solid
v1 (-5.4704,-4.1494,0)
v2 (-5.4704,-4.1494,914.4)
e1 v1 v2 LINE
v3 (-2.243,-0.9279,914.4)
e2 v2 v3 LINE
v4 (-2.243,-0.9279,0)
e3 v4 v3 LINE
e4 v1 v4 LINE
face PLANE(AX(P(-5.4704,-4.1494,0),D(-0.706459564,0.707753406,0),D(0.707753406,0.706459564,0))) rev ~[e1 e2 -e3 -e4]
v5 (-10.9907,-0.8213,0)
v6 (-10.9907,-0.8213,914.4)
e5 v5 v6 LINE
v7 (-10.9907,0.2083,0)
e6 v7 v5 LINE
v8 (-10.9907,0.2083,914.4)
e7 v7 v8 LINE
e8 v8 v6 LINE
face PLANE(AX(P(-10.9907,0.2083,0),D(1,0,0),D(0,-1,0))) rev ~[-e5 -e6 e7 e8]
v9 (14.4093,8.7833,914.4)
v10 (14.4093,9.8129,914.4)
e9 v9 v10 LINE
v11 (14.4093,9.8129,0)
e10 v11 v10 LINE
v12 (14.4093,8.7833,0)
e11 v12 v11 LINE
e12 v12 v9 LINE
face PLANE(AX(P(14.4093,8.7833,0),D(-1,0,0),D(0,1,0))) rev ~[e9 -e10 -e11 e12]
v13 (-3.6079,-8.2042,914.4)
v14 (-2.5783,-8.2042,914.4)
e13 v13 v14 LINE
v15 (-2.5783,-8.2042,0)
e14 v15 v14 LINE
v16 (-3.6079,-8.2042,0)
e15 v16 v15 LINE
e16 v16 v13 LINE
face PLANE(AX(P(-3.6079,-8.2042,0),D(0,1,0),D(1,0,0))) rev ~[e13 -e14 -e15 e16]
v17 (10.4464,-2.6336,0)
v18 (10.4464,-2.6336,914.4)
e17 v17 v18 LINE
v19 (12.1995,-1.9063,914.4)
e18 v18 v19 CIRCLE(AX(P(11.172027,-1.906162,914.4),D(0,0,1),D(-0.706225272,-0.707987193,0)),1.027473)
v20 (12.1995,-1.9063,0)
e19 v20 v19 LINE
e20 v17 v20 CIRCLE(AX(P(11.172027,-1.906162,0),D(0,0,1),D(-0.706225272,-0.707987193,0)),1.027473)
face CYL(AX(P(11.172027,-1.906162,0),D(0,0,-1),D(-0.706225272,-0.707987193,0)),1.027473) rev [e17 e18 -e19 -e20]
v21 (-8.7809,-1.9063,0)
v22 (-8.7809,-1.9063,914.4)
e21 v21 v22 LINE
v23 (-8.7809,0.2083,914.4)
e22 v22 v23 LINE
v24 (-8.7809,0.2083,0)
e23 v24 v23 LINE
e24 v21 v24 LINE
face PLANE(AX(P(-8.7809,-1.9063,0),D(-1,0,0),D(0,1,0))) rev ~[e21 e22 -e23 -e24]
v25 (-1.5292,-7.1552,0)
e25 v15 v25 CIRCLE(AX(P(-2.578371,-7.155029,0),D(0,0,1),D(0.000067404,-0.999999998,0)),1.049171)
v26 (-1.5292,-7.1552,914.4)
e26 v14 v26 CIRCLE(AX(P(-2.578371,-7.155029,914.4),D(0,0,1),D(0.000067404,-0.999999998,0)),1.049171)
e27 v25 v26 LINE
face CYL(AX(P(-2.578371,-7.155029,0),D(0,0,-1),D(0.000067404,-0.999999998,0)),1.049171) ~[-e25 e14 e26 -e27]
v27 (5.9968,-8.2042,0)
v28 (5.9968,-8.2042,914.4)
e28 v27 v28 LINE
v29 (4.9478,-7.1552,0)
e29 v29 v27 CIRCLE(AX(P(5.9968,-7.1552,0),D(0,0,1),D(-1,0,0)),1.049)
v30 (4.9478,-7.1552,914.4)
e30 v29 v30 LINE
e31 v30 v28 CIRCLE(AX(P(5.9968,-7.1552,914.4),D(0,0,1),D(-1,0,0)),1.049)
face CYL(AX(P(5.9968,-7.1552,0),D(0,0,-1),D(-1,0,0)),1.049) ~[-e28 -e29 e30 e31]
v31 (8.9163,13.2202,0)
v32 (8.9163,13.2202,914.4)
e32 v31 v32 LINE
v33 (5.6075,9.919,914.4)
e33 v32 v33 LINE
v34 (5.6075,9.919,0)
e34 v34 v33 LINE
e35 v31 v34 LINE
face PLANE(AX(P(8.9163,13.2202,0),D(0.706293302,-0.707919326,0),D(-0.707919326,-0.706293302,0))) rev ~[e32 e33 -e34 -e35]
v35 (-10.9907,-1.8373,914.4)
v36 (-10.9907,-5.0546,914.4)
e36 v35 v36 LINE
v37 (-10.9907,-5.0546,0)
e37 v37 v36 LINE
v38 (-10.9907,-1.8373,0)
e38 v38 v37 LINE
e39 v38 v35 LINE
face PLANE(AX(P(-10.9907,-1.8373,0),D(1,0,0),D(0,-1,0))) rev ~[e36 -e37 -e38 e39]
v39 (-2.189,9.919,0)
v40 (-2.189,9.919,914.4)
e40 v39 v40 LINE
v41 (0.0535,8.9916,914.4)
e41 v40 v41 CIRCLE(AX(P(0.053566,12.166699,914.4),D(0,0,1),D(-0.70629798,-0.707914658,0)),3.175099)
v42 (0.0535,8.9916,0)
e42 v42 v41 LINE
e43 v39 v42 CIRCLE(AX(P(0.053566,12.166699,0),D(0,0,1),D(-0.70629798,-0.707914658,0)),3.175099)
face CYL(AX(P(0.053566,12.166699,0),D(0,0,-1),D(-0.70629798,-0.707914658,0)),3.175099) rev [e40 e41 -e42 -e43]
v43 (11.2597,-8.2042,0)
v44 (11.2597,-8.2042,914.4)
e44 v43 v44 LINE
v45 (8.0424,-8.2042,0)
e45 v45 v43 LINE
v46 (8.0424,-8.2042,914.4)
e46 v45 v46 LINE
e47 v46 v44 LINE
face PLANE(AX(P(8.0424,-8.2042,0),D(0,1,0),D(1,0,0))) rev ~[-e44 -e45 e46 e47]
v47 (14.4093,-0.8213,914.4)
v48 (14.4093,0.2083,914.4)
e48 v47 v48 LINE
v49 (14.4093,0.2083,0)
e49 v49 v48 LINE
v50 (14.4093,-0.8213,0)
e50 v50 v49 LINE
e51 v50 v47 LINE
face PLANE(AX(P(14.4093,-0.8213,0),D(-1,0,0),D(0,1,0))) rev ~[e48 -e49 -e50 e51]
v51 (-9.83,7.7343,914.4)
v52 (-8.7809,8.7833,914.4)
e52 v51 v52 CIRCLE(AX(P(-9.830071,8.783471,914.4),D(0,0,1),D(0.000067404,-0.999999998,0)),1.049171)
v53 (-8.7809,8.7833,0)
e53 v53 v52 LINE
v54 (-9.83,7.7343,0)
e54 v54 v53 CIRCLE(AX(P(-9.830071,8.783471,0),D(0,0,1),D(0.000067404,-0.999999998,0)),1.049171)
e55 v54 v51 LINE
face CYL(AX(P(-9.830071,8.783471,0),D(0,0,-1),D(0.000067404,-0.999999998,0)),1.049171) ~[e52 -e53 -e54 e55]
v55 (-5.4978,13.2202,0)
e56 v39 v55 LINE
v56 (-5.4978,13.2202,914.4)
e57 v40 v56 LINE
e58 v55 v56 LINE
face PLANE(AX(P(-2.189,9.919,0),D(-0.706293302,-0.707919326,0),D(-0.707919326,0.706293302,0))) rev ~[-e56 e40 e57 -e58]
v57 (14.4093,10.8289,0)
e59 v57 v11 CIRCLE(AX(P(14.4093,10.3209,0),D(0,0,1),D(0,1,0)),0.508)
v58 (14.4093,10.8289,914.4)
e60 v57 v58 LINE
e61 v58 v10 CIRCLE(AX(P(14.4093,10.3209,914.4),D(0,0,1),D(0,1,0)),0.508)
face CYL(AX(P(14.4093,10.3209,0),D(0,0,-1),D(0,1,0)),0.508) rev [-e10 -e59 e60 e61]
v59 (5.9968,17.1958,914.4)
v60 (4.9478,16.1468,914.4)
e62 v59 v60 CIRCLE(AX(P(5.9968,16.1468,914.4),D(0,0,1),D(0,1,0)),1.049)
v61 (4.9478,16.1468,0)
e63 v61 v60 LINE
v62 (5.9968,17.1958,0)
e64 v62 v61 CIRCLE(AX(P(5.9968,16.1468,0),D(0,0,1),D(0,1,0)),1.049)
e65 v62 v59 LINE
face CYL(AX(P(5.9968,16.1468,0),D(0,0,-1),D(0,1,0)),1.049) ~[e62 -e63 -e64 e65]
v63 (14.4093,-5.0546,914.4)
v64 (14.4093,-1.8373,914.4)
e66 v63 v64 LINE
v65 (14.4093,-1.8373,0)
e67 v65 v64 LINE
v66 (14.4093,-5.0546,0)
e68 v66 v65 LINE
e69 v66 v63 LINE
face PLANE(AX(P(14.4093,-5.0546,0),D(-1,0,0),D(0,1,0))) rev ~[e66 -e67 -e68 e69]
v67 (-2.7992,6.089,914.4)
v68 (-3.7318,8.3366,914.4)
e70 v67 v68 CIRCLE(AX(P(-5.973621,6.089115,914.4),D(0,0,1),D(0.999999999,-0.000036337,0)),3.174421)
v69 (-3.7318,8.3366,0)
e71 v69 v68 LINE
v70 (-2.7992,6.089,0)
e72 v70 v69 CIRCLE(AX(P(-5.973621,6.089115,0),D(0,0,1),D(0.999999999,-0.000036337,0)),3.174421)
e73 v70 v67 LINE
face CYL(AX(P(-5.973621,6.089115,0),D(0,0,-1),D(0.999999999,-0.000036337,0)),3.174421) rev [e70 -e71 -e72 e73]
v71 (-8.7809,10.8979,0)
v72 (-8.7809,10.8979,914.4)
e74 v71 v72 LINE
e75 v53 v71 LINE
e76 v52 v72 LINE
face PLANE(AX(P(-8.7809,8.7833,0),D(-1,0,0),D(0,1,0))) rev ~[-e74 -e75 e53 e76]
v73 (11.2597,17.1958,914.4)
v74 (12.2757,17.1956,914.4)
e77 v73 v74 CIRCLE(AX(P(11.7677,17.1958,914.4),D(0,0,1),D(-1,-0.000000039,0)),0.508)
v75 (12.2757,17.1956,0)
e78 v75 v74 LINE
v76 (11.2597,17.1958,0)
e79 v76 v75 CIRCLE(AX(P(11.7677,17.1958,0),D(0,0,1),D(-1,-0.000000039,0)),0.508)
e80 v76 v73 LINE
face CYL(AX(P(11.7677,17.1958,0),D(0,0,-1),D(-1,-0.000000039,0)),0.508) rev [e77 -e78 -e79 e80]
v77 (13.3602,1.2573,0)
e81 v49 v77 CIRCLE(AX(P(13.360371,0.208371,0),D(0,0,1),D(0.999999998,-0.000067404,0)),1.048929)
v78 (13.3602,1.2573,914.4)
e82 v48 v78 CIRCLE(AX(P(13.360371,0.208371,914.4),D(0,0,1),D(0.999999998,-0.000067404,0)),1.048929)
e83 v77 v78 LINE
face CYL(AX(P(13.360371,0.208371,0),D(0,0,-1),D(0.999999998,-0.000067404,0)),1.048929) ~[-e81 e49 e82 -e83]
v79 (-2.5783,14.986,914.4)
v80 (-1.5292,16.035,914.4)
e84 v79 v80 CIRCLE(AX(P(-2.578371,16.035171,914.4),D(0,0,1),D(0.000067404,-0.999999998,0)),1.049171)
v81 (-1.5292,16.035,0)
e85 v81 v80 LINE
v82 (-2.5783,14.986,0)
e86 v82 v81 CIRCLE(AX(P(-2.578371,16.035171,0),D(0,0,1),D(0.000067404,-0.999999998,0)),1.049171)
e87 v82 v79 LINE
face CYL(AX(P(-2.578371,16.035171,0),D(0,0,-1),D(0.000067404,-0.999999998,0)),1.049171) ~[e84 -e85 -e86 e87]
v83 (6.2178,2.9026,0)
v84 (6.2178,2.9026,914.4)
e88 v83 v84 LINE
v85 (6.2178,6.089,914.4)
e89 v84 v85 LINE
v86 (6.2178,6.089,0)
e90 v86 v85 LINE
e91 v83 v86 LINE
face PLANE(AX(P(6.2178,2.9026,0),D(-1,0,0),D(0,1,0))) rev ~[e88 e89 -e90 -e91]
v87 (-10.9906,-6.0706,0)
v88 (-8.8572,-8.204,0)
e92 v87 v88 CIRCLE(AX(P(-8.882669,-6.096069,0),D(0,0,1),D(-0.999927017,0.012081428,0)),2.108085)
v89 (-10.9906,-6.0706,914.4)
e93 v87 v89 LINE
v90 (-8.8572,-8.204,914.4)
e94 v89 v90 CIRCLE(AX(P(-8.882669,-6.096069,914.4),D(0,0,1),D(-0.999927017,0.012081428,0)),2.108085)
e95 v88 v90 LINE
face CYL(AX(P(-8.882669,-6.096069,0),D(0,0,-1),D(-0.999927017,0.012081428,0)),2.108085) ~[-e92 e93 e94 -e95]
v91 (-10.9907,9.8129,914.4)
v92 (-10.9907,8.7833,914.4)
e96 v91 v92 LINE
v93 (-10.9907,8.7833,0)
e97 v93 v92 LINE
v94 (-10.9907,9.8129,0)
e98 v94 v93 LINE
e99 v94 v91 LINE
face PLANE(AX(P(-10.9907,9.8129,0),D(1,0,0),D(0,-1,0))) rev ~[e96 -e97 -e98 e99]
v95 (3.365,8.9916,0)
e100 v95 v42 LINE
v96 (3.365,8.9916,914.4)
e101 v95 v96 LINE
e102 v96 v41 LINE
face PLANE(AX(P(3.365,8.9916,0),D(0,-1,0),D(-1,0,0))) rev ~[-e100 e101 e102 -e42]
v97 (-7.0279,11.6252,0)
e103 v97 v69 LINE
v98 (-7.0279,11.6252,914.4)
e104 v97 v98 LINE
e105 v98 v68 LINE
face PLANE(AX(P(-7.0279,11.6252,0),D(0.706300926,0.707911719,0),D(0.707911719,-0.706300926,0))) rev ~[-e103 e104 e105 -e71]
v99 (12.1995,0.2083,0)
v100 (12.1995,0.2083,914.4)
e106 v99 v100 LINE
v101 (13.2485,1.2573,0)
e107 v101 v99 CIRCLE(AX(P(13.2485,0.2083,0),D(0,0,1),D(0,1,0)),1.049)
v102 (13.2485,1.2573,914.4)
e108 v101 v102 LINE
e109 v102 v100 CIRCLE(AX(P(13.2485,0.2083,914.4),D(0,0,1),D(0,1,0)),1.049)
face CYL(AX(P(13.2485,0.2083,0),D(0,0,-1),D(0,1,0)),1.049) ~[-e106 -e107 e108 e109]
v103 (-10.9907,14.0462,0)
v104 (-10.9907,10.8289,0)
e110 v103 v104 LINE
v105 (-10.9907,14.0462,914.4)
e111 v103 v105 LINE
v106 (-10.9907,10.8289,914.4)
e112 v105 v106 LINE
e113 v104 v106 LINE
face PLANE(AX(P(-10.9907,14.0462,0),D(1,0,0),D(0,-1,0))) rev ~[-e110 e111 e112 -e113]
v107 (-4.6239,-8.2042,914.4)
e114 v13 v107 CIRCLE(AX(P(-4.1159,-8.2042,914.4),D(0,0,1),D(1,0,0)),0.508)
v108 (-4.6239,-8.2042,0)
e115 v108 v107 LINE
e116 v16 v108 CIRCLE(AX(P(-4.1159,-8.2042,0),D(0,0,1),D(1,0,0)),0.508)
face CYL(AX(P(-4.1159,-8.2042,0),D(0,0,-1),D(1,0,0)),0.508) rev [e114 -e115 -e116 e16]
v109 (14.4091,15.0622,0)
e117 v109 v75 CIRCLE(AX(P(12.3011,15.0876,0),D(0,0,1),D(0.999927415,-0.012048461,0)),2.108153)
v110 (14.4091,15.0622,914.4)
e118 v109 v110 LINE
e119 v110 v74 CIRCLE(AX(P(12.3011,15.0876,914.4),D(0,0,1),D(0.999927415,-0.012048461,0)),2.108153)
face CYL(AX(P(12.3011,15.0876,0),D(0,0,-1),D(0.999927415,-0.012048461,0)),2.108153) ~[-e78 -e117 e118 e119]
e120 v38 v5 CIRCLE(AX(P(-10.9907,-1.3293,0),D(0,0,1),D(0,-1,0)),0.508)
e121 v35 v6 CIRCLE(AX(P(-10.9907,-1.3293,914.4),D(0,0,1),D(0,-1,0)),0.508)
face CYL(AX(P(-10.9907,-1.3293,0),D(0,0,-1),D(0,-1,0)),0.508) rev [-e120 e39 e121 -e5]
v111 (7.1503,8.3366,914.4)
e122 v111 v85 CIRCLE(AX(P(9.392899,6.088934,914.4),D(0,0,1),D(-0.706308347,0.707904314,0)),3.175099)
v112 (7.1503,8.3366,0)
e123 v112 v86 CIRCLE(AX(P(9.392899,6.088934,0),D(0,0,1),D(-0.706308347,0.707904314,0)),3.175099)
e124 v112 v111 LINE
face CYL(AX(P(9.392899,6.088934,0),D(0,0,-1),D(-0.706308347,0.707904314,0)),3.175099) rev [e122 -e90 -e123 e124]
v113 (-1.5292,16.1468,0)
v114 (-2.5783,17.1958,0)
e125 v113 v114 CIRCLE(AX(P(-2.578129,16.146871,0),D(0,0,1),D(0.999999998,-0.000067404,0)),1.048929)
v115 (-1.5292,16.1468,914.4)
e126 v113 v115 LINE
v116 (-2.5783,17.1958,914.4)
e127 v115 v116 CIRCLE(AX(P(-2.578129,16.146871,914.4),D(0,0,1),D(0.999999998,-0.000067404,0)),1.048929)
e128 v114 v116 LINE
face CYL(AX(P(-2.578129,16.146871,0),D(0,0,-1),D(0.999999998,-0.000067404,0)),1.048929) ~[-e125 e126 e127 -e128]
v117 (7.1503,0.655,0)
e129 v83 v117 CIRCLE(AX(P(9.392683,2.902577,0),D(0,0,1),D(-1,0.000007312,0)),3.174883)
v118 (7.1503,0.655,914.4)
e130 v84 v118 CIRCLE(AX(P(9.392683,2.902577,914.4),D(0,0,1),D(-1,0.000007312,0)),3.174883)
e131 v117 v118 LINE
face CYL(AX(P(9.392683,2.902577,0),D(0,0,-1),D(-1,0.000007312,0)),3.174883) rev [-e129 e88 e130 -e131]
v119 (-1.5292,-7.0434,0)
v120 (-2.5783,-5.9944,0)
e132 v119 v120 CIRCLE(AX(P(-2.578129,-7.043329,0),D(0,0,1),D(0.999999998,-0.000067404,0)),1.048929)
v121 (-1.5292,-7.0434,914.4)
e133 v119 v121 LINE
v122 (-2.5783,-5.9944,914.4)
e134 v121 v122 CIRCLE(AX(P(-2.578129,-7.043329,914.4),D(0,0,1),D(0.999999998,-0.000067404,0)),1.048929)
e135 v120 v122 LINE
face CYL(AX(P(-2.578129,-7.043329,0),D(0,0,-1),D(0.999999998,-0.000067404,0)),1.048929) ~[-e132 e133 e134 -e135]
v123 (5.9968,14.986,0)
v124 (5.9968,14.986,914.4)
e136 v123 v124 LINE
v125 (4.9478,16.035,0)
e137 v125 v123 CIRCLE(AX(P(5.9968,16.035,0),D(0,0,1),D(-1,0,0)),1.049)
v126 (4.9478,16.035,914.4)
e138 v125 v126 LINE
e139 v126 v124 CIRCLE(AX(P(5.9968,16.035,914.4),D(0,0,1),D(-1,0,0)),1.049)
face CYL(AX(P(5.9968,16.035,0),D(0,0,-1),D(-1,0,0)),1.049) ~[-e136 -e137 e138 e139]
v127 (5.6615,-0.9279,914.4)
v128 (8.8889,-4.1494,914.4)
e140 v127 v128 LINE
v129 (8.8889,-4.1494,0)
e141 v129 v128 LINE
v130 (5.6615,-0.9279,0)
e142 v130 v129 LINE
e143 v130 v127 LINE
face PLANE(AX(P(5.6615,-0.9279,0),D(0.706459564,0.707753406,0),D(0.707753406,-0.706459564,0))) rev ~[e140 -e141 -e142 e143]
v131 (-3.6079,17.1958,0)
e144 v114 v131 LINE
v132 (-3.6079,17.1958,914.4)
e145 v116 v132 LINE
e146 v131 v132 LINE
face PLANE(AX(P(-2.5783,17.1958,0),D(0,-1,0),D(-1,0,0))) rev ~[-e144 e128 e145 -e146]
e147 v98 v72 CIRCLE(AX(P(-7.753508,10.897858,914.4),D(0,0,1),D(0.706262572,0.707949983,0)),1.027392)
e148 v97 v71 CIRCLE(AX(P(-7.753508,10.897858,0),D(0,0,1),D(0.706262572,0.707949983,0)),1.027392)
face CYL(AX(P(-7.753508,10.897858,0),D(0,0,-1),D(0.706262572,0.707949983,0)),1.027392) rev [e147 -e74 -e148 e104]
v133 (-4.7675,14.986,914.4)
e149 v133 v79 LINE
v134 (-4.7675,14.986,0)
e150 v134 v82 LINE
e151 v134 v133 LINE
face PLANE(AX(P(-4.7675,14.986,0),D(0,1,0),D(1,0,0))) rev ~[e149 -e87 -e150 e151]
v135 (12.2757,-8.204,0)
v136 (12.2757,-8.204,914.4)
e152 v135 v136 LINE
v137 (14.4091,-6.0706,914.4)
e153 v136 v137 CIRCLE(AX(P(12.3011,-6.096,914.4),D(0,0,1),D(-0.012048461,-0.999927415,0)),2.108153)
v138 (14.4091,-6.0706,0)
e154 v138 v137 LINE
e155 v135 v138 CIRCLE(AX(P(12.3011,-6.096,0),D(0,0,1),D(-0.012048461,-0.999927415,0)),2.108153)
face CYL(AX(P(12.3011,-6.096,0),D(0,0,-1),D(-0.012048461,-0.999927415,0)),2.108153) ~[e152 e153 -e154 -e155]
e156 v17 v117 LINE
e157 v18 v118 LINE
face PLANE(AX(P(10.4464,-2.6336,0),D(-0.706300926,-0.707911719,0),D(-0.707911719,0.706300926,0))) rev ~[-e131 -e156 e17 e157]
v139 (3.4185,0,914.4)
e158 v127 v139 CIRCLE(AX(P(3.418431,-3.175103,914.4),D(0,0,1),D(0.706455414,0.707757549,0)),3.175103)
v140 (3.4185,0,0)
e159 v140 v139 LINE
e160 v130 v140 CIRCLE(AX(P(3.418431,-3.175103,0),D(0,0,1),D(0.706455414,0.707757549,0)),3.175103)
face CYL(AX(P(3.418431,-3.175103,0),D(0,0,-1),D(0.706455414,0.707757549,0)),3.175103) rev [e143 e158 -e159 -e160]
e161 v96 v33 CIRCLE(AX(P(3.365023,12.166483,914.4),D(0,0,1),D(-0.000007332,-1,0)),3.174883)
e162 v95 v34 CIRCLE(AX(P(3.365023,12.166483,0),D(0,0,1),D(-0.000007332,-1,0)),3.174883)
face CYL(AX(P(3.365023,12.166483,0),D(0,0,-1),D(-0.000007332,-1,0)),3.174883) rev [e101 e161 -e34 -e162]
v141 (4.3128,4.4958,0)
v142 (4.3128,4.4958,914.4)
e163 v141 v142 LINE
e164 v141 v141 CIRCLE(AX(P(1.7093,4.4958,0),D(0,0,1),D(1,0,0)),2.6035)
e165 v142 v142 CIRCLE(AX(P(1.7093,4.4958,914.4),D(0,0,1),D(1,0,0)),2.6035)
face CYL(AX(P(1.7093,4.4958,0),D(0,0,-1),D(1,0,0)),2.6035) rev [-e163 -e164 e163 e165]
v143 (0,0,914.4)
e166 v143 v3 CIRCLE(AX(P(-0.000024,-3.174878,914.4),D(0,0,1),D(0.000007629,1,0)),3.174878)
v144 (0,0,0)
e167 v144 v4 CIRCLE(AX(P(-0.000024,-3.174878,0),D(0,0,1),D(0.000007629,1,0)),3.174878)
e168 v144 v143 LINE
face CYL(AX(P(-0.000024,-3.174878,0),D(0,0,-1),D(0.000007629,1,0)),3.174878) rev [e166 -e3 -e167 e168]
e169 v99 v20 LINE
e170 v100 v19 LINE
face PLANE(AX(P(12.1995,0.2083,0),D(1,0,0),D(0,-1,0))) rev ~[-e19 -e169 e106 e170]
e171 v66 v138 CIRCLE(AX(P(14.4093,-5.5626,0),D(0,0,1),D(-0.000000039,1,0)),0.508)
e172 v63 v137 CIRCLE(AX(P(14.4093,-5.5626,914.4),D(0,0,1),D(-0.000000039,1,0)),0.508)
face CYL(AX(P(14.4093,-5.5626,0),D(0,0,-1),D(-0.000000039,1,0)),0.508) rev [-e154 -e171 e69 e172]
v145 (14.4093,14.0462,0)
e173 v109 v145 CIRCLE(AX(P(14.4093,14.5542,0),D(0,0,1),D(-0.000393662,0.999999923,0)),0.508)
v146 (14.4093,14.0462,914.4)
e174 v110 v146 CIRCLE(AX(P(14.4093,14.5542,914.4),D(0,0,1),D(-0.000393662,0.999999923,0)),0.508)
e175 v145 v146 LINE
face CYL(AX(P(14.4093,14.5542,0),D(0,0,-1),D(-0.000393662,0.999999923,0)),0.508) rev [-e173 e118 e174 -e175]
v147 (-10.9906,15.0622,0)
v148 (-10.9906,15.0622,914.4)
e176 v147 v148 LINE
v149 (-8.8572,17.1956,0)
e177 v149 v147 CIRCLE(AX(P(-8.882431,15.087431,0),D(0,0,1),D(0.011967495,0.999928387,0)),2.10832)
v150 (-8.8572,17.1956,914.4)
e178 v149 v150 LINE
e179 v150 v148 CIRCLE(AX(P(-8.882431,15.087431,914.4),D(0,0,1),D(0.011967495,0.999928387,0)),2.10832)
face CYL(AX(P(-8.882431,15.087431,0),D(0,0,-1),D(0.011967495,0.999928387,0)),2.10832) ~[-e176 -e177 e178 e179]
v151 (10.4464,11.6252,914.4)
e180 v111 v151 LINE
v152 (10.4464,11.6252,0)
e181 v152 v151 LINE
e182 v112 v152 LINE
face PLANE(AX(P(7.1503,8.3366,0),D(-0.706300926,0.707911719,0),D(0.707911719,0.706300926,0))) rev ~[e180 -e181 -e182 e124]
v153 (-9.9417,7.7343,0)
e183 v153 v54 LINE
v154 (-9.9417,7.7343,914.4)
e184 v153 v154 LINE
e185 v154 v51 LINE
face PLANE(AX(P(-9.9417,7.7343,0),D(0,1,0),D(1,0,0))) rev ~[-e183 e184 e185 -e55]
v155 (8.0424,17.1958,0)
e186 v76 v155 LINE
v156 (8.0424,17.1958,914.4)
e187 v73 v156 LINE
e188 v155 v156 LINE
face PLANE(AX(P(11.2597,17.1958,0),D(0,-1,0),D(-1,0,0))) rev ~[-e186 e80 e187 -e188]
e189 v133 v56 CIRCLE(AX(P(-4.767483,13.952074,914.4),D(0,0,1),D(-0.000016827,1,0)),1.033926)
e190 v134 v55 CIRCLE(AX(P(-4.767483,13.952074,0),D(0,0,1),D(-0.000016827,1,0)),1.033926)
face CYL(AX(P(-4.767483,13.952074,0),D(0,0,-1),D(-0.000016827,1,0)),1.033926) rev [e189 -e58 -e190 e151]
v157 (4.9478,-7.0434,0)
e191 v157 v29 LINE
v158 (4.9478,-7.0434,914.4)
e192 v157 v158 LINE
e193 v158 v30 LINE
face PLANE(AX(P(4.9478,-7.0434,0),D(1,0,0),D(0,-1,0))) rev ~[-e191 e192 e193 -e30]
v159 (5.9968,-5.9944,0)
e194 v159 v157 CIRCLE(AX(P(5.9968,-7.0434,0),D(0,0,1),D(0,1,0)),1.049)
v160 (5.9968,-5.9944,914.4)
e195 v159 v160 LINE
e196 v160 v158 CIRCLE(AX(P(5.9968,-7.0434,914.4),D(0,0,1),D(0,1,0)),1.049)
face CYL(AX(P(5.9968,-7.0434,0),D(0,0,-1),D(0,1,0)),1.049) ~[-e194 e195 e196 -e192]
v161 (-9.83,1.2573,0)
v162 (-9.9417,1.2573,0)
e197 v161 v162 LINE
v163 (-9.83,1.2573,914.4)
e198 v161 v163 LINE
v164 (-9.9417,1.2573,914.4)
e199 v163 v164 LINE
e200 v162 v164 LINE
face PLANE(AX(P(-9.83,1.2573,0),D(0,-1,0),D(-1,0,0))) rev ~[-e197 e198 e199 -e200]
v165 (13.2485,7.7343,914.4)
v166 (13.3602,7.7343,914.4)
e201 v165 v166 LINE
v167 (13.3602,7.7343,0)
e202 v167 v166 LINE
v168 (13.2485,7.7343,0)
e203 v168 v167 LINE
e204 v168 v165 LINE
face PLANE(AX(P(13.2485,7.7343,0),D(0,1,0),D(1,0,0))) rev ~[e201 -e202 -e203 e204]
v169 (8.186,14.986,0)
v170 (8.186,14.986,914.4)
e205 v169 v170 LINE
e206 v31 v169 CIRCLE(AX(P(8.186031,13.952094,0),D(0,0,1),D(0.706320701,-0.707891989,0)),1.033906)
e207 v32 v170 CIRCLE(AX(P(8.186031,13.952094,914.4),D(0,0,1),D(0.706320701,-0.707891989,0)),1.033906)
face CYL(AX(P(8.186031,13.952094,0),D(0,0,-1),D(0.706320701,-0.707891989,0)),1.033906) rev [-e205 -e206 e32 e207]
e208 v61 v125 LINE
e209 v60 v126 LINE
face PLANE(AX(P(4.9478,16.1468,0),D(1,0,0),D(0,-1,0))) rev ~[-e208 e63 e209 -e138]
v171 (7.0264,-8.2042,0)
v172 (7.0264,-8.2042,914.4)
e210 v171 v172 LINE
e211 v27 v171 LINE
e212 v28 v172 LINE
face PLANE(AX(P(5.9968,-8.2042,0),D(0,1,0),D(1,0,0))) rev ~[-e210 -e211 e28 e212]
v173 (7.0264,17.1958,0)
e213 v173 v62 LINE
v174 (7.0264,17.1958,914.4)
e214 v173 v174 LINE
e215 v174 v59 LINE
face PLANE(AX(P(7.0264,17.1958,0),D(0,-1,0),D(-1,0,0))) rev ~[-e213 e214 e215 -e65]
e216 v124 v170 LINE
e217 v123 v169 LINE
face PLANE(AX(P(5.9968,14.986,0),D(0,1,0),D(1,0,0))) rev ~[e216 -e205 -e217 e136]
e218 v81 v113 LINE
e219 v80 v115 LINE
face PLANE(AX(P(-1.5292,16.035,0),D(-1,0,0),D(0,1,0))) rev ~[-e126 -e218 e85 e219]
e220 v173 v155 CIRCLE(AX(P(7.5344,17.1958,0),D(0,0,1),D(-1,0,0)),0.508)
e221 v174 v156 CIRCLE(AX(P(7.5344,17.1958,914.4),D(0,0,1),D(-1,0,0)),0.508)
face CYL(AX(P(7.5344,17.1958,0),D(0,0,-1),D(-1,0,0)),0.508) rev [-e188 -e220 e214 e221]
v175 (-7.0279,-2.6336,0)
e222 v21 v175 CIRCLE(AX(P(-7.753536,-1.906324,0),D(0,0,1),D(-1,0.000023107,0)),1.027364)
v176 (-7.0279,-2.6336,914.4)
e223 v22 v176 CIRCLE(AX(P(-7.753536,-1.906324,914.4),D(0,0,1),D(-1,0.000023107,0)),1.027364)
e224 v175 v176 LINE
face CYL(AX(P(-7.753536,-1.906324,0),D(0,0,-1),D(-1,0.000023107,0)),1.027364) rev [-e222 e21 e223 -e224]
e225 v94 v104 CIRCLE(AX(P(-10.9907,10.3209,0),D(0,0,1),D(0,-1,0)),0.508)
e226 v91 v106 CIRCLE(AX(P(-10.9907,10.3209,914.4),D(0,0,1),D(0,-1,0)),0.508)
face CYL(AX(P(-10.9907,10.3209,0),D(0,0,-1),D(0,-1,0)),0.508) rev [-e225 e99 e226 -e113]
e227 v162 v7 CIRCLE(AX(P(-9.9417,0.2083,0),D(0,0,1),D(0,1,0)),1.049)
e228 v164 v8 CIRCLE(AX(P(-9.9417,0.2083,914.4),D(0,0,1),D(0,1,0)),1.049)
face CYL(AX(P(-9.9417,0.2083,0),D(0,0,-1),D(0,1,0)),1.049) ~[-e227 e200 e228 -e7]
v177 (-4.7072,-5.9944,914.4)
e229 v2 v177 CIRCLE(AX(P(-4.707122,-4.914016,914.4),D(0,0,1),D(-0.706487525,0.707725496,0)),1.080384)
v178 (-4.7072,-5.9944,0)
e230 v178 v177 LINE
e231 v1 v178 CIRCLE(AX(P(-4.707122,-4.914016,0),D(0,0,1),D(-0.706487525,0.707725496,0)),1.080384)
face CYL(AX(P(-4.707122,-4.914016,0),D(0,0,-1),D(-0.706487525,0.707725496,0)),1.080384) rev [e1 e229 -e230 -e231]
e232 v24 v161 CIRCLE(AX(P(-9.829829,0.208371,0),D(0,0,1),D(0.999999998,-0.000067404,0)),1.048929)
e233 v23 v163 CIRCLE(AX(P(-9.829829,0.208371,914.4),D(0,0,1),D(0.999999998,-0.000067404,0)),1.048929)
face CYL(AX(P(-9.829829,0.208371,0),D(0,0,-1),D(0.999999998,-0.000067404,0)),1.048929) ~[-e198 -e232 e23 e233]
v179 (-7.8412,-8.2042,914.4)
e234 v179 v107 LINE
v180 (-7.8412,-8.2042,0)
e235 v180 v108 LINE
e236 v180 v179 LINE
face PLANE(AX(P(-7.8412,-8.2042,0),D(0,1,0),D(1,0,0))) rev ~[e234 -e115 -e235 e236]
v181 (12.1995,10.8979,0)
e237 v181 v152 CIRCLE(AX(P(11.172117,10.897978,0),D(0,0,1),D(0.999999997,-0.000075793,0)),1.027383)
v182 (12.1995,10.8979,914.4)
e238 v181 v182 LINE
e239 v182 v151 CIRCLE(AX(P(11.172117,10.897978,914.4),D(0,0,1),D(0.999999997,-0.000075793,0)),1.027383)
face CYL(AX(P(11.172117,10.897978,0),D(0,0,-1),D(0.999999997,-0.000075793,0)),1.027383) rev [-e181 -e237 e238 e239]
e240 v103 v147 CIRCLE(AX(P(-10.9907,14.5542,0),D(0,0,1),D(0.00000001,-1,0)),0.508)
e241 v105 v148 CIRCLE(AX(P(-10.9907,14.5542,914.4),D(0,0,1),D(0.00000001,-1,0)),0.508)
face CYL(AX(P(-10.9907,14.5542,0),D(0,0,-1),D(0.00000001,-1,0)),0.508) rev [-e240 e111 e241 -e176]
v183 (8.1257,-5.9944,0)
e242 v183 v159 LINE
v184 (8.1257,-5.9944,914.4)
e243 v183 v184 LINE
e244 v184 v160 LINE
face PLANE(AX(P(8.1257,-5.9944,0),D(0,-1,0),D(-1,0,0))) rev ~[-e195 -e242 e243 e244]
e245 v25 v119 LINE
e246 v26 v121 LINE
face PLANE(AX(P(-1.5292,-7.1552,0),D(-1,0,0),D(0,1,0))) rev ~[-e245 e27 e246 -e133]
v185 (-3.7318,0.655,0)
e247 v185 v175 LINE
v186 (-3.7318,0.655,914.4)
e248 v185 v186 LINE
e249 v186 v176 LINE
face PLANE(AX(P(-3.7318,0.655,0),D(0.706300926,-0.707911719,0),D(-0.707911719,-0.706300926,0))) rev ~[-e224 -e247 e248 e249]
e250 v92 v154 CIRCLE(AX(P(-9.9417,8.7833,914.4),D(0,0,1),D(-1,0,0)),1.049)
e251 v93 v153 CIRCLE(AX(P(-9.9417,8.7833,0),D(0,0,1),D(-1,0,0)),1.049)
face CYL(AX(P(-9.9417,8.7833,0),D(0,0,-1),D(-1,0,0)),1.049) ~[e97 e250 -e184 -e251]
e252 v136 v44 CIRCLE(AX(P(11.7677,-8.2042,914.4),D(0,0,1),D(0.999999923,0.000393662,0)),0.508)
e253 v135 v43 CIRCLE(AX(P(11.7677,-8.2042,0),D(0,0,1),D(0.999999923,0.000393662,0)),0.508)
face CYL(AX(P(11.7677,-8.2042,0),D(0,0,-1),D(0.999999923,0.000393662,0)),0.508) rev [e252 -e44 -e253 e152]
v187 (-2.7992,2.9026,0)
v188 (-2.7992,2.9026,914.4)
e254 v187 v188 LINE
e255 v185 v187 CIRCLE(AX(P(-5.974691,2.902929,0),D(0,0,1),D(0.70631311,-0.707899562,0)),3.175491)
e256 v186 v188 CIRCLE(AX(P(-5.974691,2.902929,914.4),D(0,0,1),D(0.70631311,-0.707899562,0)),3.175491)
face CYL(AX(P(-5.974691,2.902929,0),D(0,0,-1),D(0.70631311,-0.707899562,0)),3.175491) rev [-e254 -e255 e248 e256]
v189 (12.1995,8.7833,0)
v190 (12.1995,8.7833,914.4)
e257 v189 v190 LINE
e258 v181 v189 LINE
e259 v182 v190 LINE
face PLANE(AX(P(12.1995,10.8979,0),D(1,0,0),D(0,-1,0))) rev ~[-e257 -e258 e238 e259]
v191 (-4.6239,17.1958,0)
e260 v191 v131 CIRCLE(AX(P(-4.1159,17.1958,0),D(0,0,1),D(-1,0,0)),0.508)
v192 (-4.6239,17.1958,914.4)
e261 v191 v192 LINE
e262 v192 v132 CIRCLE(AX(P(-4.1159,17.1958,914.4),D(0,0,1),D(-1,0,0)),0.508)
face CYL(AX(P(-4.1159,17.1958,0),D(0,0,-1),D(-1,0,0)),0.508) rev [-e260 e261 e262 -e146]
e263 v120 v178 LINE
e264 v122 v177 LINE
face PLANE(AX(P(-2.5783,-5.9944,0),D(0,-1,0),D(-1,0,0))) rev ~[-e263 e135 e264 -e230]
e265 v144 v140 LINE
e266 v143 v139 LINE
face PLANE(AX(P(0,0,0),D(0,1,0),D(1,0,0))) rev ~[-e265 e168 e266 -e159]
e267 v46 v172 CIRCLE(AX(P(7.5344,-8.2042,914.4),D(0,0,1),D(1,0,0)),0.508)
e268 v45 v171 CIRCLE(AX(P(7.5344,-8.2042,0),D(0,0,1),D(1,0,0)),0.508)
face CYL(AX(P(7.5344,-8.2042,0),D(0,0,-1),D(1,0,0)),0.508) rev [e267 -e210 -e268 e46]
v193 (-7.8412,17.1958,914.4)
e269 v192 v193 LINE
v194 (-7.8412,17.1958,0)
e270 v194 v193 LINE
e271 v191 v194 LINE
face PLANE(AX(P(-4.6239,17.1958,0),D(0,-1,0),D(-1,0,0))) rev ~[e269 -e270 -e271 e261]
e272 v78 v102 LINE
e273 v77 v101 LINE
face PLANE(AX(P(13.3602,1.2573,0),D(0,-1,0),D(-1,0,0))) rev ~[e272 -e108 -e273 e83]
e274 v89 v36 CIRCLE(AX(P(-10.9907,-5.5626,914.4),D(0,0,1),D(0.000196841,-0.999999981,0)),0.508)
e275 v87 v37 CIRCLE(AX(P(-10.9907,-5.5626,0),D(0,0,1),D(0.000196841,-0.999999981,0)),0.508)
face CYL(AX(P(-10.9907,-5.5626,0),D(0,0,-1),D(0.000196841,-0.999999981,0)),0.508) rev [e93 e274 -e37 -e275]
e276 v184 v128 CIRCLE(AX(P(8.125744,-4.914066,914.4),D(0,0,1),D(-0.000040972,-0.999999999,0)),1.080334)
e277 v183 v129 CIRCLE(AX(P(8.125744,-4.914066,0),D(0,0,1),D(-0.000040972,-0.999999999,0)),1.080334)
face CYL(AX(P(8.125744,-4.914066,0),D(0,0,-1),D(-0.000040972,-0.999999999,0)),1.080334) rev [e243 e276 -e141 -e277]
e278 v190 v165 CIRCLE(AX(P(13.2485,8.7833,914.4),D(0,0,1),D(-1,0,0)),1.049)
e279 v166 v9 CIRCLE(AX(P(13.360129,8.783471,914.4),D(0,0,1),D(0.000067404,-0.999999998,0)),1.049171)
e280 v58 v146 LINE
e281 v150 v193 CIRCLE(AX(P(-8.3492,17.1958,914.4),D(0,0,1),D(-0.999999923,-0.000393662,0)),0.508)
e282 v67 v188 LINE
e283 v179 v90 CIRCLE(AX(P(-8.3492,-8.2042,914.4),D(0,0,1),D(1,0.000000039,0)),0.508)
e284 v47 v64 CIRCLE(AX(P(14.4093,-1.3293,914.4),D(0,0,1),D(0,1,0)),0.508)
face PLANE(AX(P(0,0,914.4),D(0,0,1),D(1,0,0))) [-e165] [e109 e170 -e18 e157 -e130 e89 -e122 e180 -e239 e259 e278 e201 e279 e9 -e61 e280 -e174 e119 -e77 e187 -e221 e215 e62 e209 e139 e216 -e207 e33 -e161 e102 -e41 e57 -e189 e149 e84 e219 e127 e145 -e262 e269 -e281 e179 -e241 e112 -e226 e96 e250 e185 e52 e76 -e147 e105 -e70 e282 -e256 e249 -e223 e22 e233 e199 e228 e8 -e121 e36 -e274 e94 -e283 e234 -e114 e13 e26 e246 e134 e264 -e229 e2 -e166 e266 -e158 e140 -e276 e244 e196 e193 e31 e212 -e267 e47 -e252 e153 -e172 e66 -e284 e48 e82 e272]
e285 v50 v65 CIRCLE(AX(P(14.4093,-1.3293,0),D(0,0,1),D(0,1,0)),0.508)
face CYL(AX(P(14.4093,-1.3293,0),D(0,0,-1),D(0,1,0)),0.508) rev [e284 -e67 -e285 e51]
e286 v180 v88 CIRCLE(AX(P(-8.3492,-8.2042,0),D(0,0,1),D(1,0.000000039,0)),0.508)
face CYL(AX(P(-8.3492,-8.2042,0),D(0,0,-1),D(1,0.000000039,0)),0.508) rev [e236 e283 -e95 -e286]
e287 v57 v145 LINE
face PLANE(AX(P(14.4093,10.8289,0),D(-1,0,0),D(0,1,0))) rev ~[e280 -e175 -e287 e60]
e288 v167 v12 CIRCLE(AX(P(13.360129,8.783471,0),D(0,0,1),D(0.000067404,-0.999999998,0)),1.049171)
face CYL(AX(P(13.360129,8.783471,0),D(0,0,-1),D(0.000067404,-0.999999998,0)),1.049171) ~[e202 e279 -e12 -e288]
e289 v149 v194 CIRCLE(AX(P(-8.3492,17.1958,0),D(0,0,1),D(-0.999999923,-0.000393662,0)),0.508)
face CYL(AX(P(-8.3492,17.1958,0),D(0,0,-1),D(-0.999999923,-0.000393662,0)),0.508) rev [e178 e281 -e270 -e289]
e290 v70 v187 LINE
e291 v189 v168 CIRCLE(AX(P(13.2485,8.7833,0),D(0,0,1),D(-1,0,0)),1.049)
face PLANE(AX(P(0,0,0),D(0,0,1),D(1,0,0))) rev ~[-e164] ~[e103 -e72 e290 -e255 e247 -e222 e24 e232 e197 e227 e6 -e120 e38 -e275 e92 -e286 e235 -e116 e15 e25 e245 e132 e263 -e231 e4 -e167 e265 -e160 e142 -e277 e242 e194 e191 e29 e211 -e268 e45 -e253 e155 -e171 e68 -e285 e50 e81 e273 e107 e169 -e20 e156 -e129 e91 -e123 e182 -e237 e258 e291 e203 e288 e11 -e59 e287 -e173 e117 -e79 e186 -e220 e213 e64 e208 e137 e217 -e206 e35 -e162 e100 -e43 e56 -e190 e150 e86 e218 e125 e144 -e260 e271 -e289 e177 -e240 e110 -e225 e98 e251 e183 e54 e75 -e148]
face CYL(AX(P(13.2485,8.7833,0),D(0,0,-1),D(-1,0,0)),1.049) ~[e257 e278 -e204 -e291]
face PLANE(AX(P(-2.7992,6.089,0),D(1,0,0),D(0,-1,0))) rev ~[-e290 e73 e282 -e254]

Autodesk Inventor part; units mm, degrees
ref_plane "YZ Plane" through (0, 0, 0) normal (1, 0, 0) x (0, 1, 0)
ref_plane "XZ Plane" through (0, 0, 0) normal (0, 1, 0) x (-1, 0, 0)
ref_plane "XY Plane" through (0, 0, 0) normal (0, 0, 1) x (1, 0, 0)
sketch "Sketch1" plane through (0, 0, 0) normal (0, 0, 1) x (1, 0, 0)
  arc A0 (-5.4704, -4.1494) -> (-4.7072, -5.9944) centre (-4.7072, -4.914) ccw
  line L0 (-5.4704, -4.1494) -> (-2.243, -0.9279)
  arc A1 (0, 0) -> (-2.243, -0.9279) centre (0, -3.175) ccw
  line L1 (0, 0) -> (3.4185, 0)
  arc A2 (5.6615, -0.9279) -> (3.4185, 0) centre (3.4185, -3.175) ccw
  line L2 (5.6615, -0.9279) -> (8.8889, -4.1494)
  arc A3 (8.1257, -5.9944) -> (8.8889, -4.1494) centre (8.1257, -4.914) ccw
  line L3 (8.1257, -5.9944) -> (5.9968, -5.9944)
  arc A4 (5.9968, -5.9944) -> (4.9478, -7.0434) centre (5.9968, -7.0434) ccw
  line L4 (4.9478, -7.0434) -> (4.9478, -7.1552)
  arc A5 (4.9478, -7.1552) -> (5.9968, -8.2042) centre (5.9968, -7.1552) ccw
  line L5 (5.9968, -8.2042) -> (7.0264, -8.2042)
  arc A6 (8.0424, -8.2042) -> (7.0264, -8.2042) centre (7.5344, -8.2042) ccw
  line L6 (8.0424, -8.2042) -> (11.2597, -8.2042)
  arc A7 (12.2757, -8.204) -> (11.2597, -8.2042) centre (11.7677, -8.2042) ccw
  arc A8 (12.2757, -8.204) -> (14.4091, -6.0706) centre (12.3011, -6.096) ccw
  arc A9 (14.4093, -5.0546) -> (14.4091, -6.0706) centre (14.4093, -5.5626) ccw
  line L7 (14.4093, -5.0546) -> (14.4093, -1.8373)
  arc A10 (14.4093, -0.8213) -> (14.4093, -1.8373) centre (14.4093, -1.3293) ccw
  line L8 (14.4093, -0.8213) -> (14.4093, 0.2083)
  arc A11 (14.4093, 0.2083) -> (13.3602, 1.2573) centre (13.3602, 0.2083) ccw
  line L9 (13.3602, 1.2573) -> (13.2485, 1.2573)
  arc A12 (13.2485, 1.2573) -> (12.1995, 0.2083) centre (13.2485, 0.2083) ccw
  line L10 (12.1995, 0.2083) -> (12.1995, -1.9063)
  arc A13 (10.4464, -2.6336) -> (12.1995, -1.9063) centre (11.172, -1.9063) ccw
  line L11 (10.4464, -2.6336) -> (7.1503, 0.655)
  arc A14 (6.2178, 2.9026) -> (7.1503, 0.655) centre (9.3928, 2.9026) ccw
  line L12 (6.2178, 2.9026) -> (6.2178, 6.089)
  arc A15 (7.1503, 8.3366) -> (6.2178, 6.089) centre (9.3928, 6.089) ccw
  line L13 (7.1503, 8.3366) -> (10.4464, 11.6252)
  arc A16 (12.1995, 10.8979) -> (10.4464, 11.6252) centre (11.172, 10.8979) ccw
  line L14 (12.1995, 10.8979) -> (12.1995, 8.7833)
  arc A17 (12.1995, 8.7833) -> (13.2485, 7.7343) centre (13.2485, 8.7833) ccw
  line L15 (13.2485, 7.7343) -> (13.3602, 7.7343)
  arc A18 (13.3602, 7.7343) -> (14.4093, 8.7833) centre (13.3602, 8.7833) ccw
  line L16 (14.4093, 8.7833) -> (14.4093, 9.8129)
  arc A19 (14.4093, 10.8289) -> (14.4093, 9.8129) centre (14.4093, 10.3209) ccw
  line L17 (14.4093, 10.8289) -> (14.4093, 14.0462)
  arc A20 (14.4091, 15.0622) -> (14.4093, 14.0462) centre (14.4093, 14.5542) ccw
  arc A21 (14.4091, 15.0622) -> (12.2757, 17.1956) centre (12.3011, 15.0876) ccw
  arc A22 (11.2597, 17.1958) -> (12.2757, 17.1956) centre (11.7677, 17.1958) ccw
  line L18 (11.2597, 17.1958) -> (8.0424, 17.1958)
  arc A23 (7.0264, 17.1958) -> (8.0424, 17.1958) centre (7.5344, 17.1958) ccw
  line L19 (7.0264, 17.1958) -> (5.9968, 17.1958)
  arc A24 (5.9968, 17.1958) -> (4.9478, 16.1468) centre (5.9968, 16.1468) ccw
  line L20 (4.9478, 16.1468) -> (4.9478, 16.035)
  arc A25 (4.9478, 16.035) -> (5.9968, 14.986) centre (5.9968, 16.035) ccw
  line L21 (5.9968, 14.986) -> (8.186, 14.986)
  arc A26 (8.9163, 13.2202) -> (8.186, 14.986) centre (8.186, 13.9521) ccw
  line L22 (8.9163, 13.2202) -> (5.6075, 9.919)
  arc A27 (3.365, 8.9916) -> (5.6075, 9.919) centre (3.365, 12.1666) ccw
  line L23 (3.365, 8.9916) -> (0.0535, 8.9916)
  arc A28 (-2.189, 9.919) -> (0.0535, 8.9916) centre (0.0535, 12.1666) ccw
  line L24 (-2.189, 9.919) -> (-5.4978, 13.2202)
  arc A29 (-4.7675, 14.986) -> (-5.4978, 13.2202) centre (-4.7675, 13.9521) ccw
  line L25 (-4.7675, 14.986) -> (-2.5783, 14.986)
  arc A30 (-2.5783, 14.986) -> (-1.5292, 16.035) centre (-2.5783, 16.035) ccw
  line L26 (-1.5292, 16.035) -> (-1.5292, 16.1468)
  arc A31 (-1.5292, 16.1468) -> (-2.5783, 17.1958) centre (-2.5783, 16.1468) ccw
  line L27 (-2.5783, 17.1958) -> (-3.6079, 17.1958)
  arc A32 (-4.6239, 17.1958) -> (-3.6079, 17.1958) centre (-4.1159, 17.1958) ccw
  line L28 (-4.6239, 17.1958) -> (-7.8412, 17.1958)
  arc A33 (-8.8572, 17.1956) -> (-7.8412, 17.1958) centre (-8.3492, 17.1958) ccw
  arc A34 (-8.8572, 17.1956) -> (-10.9906, 15.0622) centre (-8.8825, 15.0876) ccw
  arc A35 (-10.9907, 14.0462) -> (-10.9906, 15.0622) centre (-10.9907, 14.5542) ccw
  line L29 (-10.9907, 14.0462) -> (-10.9907, 10.8289)
  arc A36 (-10.9907, 9.8129) -> (-10.9907, 10.8289) centre (-10.9907, 10.3209) ccw
  line L30 (-10.9907, 9.8129) -> (-10.9907, 8.7833)
  arc A37 (-10.9907, 8.7833) -> (-9.9417, 7.7343) centre (-9.9417, 8.7833) ccw
  line L31 (-9.9417, 7.7343) -> (-9.83, 7.7343)
  arc A38 (-9.83, 7.7343) -> (-8.7809, 8.7833) centre (-9.83, 8.7833) ccw
  line L32 (-8.7809, 8.7833) -> (-8.7809, 10.8979)
  arc A39 (-7.0279, 11.6252) -> (-8.7809, 10.8979) centre (-7.7535, 10.8979) ccw
  line L33 (-7.0279, 11.6252) -> (-3.7318, 8.3366)
  arc A40 (-2.7992, 6.089) -> (-3.7318, 8.3366) centre (-5.9742, 6.089) ccw
  line L34 (-2.7992, 6.089) -> (-2.7992, 2.9026)
  arc A41 (-3.7318, 0.655) -> (-2.7992, 2.9026) centre (-5.9742, 2.9026) ccw
  line L35 (-3.7318, 0.655) -> (-7.0279, -2.6336)
  arc A42 (-8.7809, -1.9063) -> (-7.0279, -2.6336) centre (-7.7535, -1.9063) ccw
  line L36 (-8.7809, -1.9063) -> (-8.7809, 0.2083)
  arc A43 (-8.7809, 0.2083) -> (-9.83, 1.2573) centre (-9.83, 0.2083) ccw
  line L37 (-9.83, 1.2573) -> (-9.9417, 1.2573)
  arc A44 (-9.9417, 1.2573) -> (-10.9907, 0.2083) centre (-9.9417, 0.2083) ccw
  line L38 (-10.9907, 0.2083) -> (-10.9907, -0.8213)
  arc A45 (-10.9907, -1.8373) -> (-10.9907, -0.8213) centre (-10.9907, -1.3293) ccw
  line L39 (-10.9907, -1.8373) -> (-10.9907, -5.0546)
  arc A46 (-10.9906, -6.0706) -> (-10.9907, -5.0546) centre (-10.9907, -5.5626) ccw
  arc A47 (-10.9906, -6.0706) -> (-8.8572, -8.204) centre (-8.8825, -6.096) ccw
  arc A48 (-7.8412, -8.2042) -> (-8.8572, -8.204) centre (-8.3492, -8.2042) ccw
  line L40 (-7.8412, -8.2042) -> (-4.6239, -8.2042)
  arc A49 (-3.6079, -8.2042) -> (-4.6239, -8.2042) centre (-4.1159, -8.2042) ccw
  line L41 (-3.6079, -8.2042) -> (-2.5783, -8.2042)
  arc A50 (-2.5783, -8.2042) -> (-1.5292, -7.1552) centre (-2.5783, -7.1552) ccw
  line L42 (-1.5292, -7.1552) -> (-1.5292, -7.0434)
  arc A51 (-1.5292, -7.0434) -> (-2.5783, -5.9944) centre (-2.5783, -7.0434) ccw
  line L43 (-2.5783, -5.9944) -> (-4.7072, -5.9944)
  circle A52 centre (1.7093, 4.4958) radius 2.6035
extrude "Extrusion1" add sketch "Sketch1" along normal blind 914.4
properties part number "36 in 1x1 T slot" material "Steel, Alloy"
